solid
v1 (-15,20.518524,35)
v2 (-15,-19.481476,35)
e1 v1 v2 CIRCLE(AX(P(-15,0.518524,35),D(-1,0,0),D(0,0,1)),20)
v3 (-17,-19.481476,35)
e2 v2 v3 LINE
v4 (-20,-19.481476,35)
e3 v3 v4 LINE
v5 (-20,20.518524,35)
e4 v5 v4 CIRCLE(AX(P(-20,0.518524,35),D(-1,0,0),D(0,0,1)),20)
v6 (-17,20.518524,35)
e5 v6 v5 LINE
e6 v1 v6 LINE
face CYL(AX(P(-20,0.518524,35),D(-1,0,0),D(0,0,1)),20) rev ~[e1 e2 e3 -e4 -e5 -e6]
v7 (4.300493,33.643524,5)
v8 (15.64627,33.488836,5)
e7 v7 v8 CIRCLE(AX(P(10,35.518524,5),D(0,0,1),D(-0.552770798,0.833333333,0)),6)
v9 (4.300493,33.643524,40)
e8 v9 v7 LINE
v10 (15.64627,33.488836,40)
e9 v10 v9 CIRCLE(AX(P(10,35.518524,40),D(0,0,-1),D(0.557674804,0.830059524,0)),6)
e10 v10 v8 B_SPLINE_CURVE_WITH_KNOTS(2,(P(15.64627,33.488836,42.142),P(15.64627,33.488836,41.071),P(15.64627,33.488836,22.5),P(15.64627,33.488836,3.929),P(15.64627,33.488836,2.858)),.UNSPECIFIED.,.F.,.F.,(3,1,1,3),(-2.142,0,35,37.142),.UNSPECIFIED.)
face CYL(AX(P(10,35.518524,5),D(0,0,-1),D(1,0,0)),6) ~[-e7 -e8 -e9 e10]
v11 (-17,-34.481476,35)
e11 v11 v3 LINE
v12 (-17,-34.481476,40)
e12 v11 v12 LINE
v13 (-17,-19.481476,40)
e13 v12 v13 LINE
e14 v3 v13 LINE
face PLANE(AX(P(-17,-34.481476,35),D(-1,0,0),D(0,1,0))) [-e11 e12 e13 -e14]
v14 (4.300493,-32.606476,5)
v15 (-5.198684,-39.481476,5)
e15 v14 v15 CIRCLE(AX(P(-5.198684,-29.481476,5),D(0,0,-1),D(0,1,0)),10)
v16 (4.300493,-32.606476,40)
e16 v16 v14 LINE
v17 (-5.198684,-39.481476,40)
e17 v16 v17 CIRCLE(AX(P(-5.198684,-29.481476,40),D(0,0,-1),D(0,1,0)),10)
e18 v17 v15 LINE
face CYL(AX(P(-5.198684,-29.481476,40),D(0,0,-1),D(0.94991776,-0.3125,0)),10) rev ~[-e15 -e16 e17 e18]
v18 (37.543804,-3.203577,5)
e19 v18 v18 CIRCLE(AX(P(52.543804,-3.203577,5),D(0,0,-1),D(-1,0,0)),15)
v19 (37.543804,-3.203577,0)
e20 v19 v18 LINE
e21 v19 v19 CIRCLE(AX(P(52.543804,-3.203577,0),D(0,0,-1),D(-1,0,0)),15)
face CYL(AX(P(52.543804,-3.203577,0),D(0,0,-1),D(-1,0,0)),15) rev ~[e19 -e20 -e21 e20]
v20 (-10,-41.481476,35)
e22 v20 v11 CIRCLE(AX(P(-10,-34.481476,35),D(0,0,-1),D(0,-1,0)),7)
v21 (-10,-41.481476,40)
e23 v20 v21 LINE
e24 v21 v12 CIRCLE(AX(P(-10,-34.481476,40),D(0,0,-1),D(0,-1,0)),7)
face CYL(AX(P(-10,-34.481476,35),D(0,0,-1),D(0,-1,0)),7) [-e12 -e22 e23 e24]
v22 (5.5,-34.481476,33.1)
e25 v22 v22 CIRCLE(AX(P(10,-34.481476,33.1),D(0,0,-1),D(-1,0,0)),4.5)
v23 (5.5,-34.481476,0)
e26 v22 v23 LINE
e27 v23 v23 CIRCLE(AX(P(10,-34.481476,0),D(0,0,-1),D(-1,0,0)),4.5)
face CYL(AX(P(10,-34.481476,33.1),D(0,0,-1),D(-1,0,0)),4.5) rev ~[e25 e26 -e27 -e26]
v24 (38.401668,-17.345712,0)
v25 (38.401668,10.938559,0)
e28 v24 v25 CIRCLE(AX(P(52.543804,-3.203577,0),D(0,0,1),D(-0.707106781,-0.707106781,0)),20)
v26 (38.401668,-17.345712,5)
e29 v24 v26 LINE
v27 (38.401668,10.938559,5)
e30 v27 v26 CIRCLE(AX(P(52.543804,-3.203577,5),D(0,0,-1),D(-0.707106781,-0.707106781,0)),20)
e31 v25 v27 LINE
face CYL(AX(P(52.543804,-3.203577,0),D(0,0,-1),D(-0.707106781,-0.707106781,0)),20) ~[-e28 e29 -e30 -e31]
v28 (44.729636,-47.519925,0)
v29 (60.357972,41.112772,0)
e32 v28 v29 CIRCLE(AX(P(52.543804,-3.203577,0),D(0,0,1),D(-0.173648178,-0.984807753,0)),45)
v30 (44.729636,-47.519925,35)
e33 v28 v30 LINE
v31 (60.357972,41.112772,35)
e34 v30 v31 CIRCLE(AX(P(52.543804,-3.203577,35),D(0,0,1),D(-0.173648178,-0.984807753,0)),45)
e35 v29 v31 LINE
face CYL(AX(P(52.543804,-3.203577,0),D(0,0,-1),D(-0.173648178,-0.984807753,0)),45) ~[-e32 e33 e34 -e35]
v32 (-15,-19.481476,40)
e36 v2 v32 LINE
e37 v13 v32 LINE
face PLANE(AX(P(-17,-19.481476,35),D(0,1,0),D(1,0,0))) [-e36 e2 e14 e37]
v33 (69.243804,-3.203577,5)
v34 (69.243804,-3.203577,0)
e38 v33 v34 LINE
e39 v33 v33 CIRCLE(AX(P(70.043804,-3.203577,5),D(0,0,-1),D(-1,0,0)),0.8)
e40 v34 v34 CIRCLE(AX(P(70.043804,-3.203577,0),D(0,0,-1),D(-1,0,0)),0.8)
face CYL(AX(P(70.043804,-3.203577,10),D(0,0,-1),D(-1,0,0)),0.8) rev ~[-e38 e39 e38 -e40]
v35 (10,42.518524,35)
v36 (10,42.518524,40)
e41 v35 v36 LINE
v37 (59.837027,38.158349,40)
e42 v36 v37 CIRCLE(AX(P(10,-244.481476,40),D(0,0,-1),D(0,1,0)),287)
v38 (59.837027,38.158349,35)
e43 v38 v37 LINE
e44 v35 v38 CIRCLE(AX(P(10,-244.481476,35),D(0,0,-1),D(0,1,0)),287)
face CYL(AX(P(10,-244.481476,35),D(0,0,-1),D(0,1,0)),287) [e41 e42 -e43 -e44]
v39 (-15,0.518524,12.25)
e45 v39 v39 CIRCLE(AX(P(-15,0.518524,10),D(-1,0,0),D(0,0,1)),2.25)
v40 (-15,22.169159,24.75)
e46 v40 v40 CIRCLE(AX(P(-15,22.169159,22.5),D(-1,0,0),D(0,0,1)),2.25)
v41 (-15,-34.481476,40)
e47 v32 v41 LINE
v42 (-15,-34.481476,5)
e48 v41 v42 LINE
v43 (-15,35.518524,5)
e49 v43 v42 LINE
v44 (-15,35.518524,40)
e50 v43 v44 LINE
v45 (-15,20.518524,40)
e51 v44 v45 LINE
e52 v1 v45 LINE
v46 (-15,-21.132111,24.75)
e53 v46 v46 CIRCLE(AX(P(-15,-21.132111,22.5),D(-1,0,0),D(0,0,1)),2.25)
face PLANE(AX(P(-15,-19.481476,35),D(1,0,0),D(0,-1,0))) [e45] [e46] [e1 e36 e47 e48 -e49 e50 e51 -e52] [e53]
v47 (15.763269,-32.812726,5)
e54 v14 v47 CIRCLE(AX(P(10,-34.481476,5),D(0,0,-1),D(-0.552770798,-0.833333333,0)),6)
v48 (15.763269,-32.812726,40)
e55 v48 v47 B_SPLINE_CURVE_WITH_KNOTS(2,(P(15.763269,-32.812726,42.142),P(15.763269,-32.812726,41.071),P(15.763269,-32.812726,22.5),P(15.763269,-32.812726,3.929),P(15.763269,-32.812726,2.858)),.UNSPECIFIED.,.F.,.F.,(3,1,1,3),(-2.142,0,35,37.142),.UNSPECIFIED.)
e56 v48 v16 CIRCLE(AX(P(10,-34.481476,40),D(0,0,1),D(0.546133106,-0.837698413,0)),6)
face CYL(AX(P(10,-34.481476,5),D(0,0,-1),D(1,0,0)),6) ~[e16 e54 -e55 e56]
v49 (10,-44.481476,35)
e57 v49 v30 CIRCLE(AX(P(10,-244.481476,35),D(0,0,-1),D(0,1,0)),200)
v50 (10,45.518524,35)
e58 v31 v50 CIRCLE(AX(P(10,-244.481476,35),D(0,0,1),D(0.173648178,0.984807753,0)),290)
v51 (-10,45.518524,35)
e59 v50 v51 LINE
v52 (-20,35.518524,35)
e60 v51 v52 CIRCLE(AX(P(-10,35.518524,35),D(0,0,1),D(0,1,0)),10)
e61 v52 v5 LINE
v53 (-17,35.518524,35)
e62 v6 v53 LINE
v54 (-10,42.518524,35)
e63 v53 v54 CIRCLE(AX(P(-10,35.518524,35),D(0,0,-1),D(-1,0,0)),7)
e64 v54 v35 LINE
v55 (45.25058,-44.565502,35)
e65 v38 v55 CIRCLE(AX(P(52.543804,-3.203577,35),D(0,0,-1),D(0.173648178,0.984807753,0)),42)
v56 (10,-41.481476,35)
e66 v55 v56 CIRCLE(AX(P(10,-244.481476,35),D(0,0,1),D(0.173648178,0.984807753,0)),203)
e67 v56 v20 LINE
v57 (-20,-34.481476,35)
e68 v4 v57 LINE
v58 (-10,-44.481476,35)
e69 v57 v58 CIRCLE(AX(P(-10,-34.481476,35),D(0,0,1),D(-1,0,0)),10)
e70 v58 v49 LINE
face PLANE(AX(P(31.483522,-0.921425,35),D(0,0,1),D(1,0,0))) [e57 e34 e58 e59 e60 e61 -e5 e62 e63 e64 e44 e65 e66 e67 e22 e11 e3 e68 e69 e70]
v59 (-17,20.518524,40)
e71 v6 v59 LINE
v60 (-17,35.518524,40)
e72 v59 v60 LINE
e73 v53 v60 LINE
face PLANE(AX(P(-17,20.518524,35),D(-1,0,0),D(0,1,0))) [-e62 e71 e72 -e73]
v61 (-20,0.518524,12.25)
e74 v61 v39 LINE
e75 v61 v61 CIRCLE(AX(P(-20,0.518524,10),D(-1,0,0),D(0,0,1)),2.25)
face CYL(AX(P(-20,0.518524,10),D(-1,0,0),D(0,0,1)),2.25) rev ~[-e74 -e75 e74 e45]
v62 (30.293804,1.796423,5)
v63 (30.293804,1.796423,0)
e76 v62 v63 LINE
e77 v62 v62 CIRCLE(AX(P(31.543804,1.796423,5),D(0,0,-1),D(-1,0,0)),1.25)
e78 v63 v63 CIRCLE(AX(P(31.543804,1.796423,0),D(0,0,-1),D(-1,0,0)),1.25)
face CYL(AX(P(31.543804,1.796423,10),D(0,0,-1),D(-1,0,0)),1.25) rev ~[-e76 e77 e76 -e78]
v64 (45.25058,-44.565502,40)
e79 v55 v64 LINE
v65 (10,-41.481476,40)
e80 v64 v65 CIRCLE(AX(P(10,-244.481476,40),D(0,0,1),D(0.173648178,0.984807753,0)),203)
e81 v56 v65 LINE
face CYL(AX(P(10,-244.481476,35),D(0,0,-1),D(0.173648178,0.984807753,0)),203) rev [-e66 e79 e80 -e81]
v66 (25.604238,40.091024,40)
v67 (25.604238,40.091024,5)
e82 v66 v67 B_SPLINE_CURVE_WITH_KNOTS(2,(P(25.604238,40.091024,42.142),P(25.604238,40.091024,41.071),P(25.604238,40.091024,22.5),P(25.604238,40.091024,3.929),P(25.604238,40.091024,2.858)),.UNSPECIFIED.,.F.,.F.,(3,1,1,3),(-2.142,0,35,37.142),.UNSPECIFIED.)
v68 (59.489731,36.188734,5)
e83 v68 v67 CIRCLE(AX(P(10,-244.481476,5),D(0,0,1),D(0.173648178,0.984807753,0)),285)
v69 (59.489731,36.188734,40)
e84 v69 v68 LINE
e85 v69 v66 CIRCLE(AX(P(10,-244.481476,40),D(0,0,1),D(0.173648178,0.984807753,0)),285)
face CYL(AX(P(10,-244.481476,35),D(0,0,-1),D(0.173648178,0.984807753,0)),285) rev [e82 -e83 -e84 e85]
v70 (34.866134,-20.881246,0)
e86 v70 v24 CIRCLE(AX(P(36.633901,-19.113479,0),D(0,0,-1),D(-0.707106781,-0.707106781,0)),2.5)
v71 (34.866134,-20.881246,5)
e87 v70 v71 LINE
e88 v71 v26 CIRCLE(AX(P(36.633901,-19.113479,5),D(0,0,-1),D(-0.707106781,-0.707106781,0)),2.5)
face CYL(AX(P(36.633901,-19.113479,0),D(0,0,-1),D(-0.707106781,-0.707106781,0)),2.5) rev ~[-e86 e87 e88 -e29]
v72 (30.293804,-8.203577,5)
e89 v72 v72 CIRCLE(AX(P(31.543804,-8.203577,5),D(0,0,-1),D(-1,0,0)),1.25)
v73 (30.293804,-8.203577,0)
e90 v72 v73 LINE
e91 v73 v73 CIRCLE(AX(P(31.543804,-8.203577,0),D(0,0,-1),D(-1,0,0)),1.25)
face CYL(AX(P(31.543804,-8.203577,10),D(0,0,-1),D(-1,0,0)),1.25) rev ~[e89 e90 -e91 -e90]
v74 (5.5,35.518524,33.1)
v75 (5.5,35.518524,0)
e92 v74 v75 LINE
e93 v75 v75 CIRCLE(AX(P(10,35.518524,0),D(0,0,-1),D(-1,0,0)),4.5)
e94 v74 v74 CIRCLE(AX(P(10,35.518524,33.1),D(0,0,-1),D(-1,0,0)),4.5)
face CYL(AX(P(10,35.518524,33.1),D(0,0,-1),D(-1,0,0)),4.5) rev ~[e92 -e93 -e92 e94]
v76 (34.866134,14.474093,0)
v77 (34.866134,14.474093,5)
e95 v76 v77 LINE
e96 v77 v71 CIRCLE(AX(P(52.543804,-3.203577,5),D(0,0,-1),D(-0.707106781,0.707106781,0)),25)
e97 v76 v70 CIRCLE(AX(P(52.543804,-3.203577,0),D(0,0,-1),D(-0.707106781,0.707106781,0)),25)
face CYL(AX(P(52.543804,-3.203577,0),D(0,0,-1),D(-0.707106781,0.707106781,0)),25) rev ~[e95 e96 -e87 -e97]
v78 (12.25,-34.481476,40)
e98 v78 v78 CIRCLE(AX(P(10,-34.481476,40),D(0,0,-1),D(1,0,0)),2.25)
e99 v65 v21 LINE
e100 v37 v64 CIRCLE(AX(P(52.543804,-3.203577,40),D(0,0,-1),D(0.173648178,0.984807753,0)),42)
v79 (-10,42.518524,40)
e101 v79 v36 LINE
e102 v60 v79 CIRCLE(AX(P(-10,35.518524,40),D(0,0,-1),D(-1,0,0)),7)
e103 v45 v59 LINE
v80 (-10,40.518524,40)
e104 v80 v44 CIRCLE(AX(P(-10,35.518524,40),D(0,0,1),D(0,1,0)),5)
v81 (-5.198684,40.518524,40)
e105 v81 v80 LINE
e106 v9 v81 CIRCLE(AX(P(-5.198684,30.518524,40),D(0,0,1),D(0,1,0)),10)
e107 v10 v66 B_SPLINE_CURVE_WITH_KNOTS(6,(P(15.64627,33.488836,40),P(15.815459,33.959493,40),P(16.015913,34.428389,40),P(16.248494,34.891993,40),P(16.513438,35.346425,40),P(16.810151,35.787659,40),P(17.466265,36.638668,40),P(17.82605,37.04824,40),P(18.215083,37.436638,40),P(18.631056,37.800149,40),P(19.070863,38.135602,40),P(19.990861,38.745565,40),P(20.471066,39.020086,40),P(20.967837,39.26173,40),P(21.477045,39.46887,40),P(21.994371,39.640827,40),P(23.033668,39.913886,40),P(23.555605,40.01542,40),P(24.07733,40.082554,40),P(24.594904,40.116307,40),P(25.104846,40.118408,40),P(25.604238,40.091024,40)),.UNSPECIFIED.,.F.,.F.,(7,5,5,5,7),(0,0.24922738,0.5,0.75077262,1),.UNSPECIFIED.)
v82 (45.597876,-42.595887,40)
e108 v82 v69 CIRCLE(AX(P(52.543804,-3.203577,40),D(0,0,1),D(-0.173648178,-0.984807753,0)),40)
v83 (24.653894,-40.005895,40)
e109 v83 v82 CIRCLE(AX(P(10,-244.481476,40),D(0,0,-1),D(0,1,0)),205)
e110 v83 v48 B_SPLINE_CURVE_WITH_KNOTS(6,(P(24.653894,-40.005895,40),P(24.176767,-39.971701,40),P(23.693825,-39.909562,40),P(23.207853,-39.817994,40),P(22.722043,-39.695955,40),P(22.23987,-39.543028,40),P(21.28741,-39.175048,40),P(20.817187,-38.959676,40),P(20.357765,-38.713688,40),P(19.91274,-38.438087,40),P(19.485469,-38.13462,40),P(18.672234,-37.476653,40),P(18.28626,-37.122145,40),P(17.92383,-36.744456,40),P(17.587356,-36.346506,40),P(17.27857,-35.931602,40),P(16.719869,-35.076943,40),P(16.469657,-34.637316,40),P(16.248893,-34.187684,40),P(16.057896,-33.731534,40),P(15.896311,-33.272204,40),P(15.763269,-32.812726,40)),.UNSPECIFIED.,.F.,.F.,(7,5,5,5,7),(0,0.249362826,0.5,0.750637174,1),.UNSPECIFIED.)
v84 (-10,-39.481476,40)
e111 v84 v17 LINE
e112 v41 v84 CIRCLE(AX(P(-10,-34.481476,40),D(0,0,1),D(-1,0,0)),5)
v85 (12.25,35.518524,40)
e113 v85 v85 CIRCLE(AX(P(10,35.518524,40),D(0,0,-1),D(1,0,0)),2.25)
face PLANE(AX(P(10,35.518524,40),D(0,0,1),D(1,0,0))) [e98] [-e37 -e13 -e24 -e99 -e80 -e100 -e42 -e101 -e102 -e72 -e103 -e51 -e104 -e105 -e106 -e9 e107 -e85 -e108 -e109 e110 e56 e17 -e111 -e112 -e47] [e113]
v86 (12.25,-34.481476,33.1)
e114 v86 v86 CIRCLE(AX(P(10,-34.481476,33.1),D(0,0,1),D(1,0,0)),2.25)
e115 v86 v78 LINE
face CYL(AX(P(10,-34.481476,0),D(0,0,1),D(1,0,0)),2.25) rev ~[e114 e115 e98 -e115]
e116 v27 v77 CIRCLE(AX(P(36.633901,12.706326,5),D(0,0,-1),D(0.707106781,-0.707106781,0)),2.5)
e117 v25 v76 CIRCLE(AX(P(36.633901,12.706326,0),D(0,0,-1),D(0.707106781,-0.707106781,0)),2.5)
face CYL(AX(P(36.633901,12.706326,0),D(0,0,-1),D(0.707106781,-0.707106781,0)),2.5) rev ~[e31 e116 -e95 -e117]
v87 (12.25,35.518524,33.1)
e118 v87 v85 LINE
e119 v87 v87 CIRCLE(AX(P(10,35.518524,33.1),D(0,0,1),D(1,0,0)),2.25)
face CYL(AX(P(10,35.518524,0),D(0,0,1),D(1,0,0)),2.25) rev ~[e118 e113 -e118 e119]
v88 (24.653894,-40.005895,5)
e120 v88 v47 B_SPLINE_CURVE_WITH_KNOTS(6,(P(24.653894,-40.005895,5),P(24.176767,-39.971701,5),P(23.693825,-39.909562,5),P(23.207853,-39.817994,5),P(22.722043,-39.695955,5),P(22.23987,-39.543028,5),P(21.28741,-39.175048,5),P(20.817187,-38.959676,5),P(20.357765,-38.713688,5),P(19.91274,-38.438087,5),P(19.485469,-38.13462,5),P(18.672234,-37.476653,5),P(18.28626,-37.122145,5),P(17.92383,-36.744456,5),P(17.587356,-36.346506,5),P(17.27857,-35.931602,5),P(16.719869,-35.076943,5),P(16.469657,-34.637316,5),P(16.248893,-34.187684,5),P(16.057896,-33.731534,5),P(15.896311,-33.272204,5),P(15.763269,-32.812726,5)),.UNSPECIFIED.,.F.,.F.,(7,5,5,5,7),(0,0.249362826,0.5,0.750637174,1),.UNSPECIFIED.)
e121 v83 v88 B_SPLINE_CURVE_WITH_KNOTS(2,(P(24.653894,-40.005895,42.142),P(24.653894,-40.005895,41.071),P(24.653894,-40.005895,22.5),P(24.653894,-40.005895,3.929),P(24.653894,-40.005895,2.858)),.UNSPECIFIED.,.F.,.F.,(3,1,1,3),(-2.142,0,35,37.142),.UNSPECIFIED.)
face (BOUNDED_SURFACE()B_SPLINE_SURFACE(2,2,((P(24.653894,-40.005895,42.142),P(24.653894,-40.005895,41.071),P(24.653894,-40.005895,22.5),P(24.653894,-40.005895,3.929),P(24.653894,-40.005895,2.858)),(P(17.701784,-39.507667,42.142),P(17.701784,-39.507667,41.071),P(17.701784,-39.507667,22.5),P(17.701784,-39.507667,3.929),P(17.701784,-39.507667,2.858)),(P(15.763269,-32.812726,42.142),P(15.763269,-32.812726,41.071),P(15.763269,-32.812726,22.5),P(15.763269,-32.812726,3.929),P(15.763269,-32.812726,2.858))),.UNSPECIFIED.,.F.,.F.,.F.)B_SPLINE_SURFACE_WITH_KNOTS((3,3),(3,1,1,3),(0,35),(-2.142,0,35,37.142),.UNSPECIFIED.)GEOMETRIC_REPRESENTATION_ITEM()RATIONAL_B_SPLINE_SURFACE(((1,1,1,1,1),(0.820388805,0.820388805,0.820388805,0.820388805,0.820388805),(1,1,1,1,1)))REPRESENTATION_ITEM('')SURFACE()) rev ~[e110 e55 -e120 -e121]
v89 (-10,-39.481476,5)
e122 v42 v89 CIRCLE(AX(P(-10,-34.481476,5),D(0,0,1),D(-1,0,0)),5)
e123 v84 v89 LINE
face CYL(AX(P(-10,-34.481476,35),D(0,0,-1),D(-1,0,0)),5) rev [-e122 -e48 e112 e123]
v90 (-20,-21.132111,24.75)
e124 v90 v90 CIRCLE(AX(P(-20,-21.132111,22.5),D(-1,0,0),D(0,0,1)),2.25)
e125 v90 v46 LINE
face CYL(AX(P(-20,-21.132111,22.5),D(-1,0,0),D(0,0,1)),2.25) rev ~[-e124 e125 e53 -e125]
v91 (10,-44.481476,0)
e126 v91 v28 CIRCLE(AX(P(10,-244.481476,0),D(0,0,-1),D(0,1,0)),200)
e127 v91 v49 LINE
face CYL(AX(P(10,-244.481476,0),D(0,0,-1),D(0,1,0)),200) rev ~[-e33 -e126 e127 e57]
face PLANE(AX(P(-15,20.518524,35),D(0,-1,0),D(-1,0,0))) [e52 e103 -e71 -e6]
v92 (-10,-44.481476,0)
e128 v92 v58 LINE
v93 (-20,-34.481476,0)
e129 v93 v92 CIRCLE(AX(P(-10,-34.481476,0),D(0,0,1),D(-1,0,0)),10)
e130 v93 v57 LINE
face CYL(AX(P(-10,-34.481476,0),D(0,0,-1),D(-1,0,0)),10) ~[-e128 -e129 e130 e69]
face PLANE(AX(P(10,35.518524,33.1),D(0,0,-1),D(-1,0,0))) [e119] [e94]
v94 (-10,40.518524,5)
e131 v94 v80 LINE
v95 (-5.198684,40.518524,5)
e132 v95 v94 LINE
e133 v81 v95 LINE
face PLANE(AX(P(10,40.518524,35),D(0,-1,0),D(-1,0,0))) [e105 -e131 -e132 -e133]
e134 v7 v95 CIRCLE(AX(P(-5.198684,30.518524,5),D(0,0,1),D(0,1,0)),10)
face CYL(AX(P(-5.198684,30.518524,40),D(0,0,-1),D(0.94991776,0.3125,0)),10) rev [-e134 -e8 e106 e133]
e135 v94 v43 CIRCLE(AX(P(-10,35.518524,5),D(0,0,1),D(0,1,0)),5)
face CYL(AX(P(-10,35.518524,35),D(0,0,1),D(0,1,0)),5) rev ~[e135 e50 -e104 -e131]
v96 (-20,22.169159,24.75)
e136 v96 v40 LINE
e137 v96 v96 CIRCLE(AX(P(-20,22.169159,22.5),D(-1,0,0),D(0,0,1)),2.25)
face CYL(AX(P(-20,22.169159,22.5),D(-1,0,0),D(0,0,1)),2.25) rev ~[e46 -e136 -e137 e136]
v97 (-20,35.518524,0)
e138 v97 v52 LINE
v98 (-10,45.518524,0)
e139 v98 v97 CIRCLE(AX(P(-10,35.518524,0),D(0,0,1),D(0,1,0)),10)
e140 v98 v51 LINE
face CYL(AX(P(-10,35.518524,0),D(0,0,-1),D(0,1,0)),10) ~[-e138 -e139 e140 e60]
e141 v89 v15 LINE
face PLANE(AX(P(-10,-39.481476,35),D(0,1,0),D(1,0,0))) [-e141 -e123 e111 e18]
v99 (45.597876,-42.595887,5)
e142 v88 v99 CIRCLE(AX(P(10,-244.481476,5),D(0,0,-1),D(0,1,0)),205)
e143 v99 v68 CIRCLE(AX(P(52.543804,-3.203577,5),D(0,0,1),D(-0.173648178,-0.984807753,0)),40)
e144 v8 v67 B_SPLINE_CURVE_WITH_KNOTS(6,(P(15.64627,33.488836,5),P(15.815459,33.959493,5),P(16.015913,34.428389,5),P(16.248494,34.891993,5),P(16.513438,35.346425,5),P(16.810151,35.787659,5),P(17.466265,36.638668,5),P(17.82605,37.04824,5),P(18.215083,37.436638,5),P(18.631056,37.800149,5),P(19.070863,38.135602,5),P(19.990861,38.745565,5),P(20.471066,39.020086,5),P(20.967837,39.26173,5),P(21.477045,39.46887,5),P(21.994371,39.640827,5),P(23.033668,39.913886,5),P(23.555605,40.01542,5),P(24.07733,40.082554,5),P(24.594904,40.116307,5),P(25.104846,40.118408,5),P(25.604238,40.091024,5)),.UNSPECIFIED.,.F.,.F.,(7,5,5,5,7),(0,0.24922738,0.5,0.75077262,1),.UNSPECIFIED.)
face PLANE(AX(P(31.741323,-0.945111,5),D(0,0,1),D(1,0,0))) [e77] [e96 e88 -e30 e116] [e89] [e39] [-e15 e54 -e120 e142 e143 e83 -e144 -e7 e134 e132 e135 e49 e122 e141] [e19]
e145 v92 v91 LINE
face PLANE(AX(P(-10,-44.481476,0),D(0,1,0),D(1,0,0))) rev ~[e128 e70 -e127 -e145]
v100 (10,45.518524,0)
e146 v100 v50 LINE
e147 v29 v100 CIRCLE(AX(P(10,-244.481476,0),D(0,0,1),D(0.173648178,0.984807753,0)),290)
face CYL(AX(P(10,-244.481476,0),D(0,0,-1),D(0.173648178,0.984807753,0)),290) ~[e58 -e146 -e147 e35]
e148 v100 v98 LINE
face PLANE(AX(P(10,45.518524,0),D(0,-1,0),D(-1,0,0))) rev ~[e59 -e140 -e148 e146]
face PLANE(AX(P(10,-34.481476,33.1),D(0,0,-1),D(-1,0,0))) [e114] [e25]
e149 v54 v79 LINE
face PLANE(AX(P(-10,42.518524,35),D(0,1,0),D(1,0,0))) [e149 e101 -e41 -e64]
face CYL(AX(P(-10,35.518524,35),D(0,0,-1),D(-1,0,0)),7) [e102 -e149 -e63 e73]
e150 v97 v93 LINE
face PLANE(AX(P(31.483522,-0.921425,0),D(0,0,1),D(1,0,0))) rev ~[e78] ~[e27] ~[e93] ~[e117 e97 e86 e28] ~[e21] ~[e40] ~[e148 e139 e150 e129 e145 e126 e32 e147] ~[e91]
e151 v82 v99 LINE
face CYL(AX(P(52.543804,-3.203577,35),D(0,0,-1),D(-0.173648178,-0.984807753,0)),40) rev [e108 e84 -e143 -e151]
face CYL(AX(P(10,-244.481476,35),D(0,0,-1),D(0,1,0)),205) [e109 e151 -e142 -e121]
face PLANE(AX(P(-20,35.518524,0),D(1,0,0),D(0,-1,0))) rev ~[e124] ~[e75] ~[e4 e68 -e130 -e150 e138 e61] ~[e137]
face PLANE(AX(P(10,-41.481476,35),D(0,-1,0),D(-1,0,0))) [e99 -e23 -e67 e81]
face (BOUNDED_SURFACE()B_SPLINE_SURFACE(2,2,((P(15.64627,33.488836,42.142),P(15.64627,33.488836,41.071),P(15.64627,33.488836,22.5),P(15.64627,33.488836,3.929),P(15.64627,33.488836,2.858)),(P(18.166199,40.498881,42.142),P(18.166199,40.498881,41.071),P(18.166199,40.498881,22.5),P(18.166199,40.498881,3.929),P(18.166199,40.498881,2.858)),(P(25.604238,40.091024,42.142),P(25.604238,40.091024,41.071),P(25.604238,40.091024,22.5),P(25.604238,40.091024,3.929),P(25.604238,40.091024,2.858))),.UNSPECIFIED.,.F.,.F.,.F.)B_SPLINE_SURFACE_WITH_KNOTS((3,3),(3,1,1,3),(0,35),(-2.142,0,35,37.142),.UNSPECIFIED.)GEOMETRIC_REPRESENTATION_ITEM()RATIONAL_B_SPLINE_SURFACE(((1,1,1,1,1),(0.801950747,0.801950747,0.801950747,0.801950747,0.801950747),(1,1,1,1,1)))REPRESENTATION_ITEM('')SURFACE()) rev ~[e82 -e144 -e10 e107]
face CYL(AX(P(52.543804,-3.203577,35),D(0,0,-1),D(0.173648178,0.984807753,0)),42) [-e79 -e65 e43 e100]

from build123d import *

# Parameters (mm, degrees)
EXTRUDE_1_DEPTH              = 35
CUT_EXTRUDE_1_DEPTH          = 30
SKETCH_3_R                   = 20
SKETCH_3_R_2                 = 2.25
CUT_EXTRUDE_2_DEPTH          = 10
SKETCH_4_R                   = 15
CUT_EXTRUDE_3_DEPTH          = 1
CUT_EXTRUDE_3_DEPTH_BACK     = 36
EXTRUDE_2_DEPTH              = 5
CUT_EXTRUDE_6_REACH          = 42
SKETCH_12_R                  = 6
EXTRUDE_3_DEPTH              = 35
FILLET_1_R                   = 10
HOLE_WIZARD_M2_1_D           = 1.6
HOLE_WIZARD_M2_1_DEPTH       = 5
HOLE_WIZARD_M3_1_D           = 2.5
HOLE_WIZARD_M3_1_DEPTH       = 5
HOLE_WIZARD_M4_6_D           = 4.5
HOLE_WIZARD_M4_6_DEPTH       = 40
HOLE_WIZARD_M4_6_CBORE_D     = 9
HOLE_WIZARD_M4_6_CBORE_DEPTH = 33.1
HOLE_WIZARD_M4_6_TIP         = 1.351936393


with BuildPart() as part:
    # 스케치1 → 보스-돌출1 (new body)
    with BuildSketch(Plane.XY):
        with BuildLine():
            Line((10, 45.518523903), (0, 45.518523903))
            Line((0, 45.518523903), (-10, 45.518523903))
            ThreePointArc((-10, 45.518523903), (-17.071067812, 42.589591715), (-20, 35.518523903))
            Line((-20, 35.518523903), (-20, -34.481476097))
            ThreePointArc((-20, -34.481476097), (-17.071067812, -41.552543909), (-10, -44.481476097))
            Line((-10, -44.481476097), (0, -44.481476097))
            Line((0, -44.481476097), (10, -44.481476097))
            ThreePointArc((10, -44.481476097), (27.43114855, -45.242536479), (44.729635533, -47.519925495))
            ThreePointArc((44.729635533, -47.519925495), (96.860152414, -11.017744604), (60.357971523, 41.112772276))
            ThreePointArc((60.357971523, 41.112772276), (35.275165397, 44.414986349), (10, 45.518523903))
        make_face()
    extrude(amount=EXTRUDE_1_DEPTH)

    # 스케치2 → 컷-돌출1 (cut)
    with BuildSketch(Plane.XY.offset(35)):
        with BuildLine():
            Line((10, 40.518523903), (-10, 40.518523903))
            ThreePointArc((-10, 40.518523903), (-13.535533906, 39.054057809), (-15, 35.518523903))
            Line((-15, 35.518523903), (-15, -34.481476097))
            ThreePointArc((-15, -34.481476097), (-13.535533906, -38.017010003), (-10, -39.481476097))
            Line((-10, -39.481476097), (10, -39.481476097))
            ThreePointArc((10, -39.481476097), (27.866927263, -40.261562989), (45.597876422, -42.59588673))
            ThreePointArc((45.597876422, -42.59588673), (91.936113649, -10.149503716), (59.489730635, 36.188733511))
            ThreePointArc((59.489730635, 36.188733511), (34.839386683, 39.434012859), (10, 40.518523903))
        make_face()
    extrude(amount=-CUT_EXTRUDE_1_DEPTH, mode=Mode.SUBTRACT)

    # 스케치3 → 컷-돌출2 (cut)
    with BuildSketch(Plane.ZY.offset(20)):
        with Locations((35, 0.518523903)):
            Circle(SKETCH_3_R)
        with Locations((22.5, 22.169158997)):
            Circle(SKETCH_3_R_2)
        with Locations((10, 0.518523903)):
            Circle(SKETCH_3_R_2)
        with Locations((22.5, -21.132111192)):
            Circle(SKETCH_3_R_2)
    extrude(amount=-CUT_EXTRUDE_2_DEPTH, mode=Mode.SUBTRACT)

    # 스케치4 → 컷-돌출3 (cut, two sides)
    with BuildSketch(Plane(origin=(0, 0, 0), x_dir=(-1, 0, 0), z_dir=(0, 0, -1))) as cut_extrude_3_sk:
        with Locations((-52.543803528, -3.203576609)):
            Circle(SKETCH_4_R)
    extrude(amount=CUT_EXTRUDE_3_DEPTH, mode=Mode.SUBTRACT)
    extrude(cut_extrude_3_sk.sketch, amount=-CUT_EXTRUDE_3_DEPTH_BACK, mode=Mode.SUBTRACT)

    # 스케치8 → 보스-돌출2 (add)
    with BuildSketch(Plane.XY.offset(35)):
        with BuildLine():
            Line((-15, -19.481476097), (-15, -34.481476097))
            ThreePointArc((-15, -34.481476097), (-13.535533906, -38.017010003), (-10, -39.481476097))
            Line((-10, -39.481476097), (10, -39.481476097))
            ThreePointArc((10, -39.481476097), (27.866927263, -40.261562989), (45.597876422, -42.59588673))
            ThreePointArc((45.597876422, -42.59588673), (91.936113649, -10.149503716), (59.489730635, 36.188733511))
            ThreePointArc((59.489730635, 36.188733511), (34.839386683, 39.434012859), (10, 40.518523903))
            Line((10, 40.518523903), (-10, 40.518523903))
            ThreePointArc((-10, 40.518523903), (-13.535533906, 39.054057809), (-15, 35.518523903))
            Line((-15, 35.518523903), (-15, 20.518523903))
            Line((-15, 20.518523903), (-17, 20.518523903))
            Line((-17, 20.518523903), (-17, 35.518523903))
            ThreePointArc((-17, 35.518523903), (-14.949747468, 40.468271371), (-10, 42.518523903))
            Line((-10, 42.518523903), (10, 42.518523903))
            ThreePointArc((10, 42.518523903), (35.013698169, 41.426402255), (59.83702699, 38.158349017))
            ThreePointArc((59.83702699, 38.158349017), (93.905729155, -10.496800071), (45.250580066, -44.565502236))
            ThreePointArc((45.250580066, -44.565502236), (27.692615778, -42.253952385), (10, -41.481476097))
            Line((10, -41.481476097), (-10, -41.481476097))
            ThreePointArc((-10, -41.481476097), (-14.949747468, -39.431223566), (-17, -34.481476097))
            Line((-17, -34.481476097), (-17, -19.481476097))
            Line((-17, -19.481476097), (-15, -19.481476097))
        make_face()
    extrude(amount=EXTRUDE_2_DEPTH)

    # 스케치9 → 컷-돌출6 (cut, up to next)
    with BuildSketch(Plane(origin=(0, 0, 0), x_dir=(-1, 0, 0), z_dir=(0, 0, -1)), mode=Mode.PRIVATE) as cut_extrude_6_sk1:
        with BuildLine():
            ThreePointArc((-38.401667905, 10.938559014), (-34.866133999, 10.938559014), (-34.866133999, 14.47409292))
            ThreePointArc((-34.866133999, 14.47409292), (-77.543803528, -3.203576609), (-34.866133999, -20.881246139))
            ThreePointArc((-34.866133999, -20.881246139), (-34.866133999, -17.345712233), (-38.401667905, -17.345712233))
            ThreePointArc((-38.401667905, -17.345712233), (-72.543803528, -3.203576609), (-38.401667905, 10.938559014))
        make_face()
    cut_extrude_6_tool1 = extrude(cut_extrude_6_sk1.sketch, amount=-CUT_EXTRUDE_6_REACH, mode=Mode.PRIVATE) & part.part
    add(cut_extrude_6_tool1.solids().sort_by_distance((35.334344, -17.813923, 0))[0], mode=Mode.SUBTRACT)

    # 스케치12 → 보스-돌출3 (add)
    with BuildSketch(Plane.XY.offset(5)):
        with Locations((10, 35.518523903)):
            Circle(SKETCH_12_R)
        with Locations((10, -34.481476097)):
            Circle(SKETCH_12_R)
    extrude(amount=EXTRUDE_3_DEPTH)

    # 필렛1
    fillet_1_edges = [part.edges().sort_by_distance(p)[0] for p in [
        (13.346048824, 40.498881046, 22.5),
        (6.68337521, 40.518523903, 22.5),
        (13.276798635, -39.507666574, 22.5),
        (6.68337521, -39.481476097, 22.5),
    ]]
    fillet(fillet_1_edges, radius=FILLET_1_R)

    # M2 나사 구멍1
    with Locations(Plane.XY.offset(5)):
        with Locations((70.043803528, -3.203576609)):
            Hole(HOLE_WIZARD_M2_1_D / 2, depth=HOLE_WIZARD_M2_1_DEPTH)

    # M3 나사 구멍1
    with Locations(Plane.XY.offset(5)):
        with Locations((31.543803528, 1.796423391), (31.543803528, -8.203576609)):
            Hole(HOLE_WIZARD_M3_1_D / 2, depth=HOLE_WIZARD_M3_1_DEPTH)

    # M4 남비 머리 나사용 카운터보어6
    with Locations(Plane(origin=(0, 0, 0), x_dir=(-1, 0, 0), z_dir=(0, 0, -1))):
        with Locations((-10, 35.518523903), (-10, -34.481476097)):
            CounterBoreHole(HOLE_WIZARD_M4_6_D / 2, HOLE_WIZARD_M4_6_CBORE_D / 2, HOLE_WIZARD_M4_6_CBORE_DEPTH, depth=HOLE_WIZARD_M4_6_DEPTH)
            with Locations((0, 0, -(HOLE_WIZARD_M4_6_DEPTH + HOLE_WIZARD_M4_6_TIP / 2))):  # 118° drill point
                Cone(0, HOLE_WIZARD_M4_6_D / 2, HOLE_WIZARD_M4_6_TIP, mode=Mode.SUBTRACT)


solid = part.part
